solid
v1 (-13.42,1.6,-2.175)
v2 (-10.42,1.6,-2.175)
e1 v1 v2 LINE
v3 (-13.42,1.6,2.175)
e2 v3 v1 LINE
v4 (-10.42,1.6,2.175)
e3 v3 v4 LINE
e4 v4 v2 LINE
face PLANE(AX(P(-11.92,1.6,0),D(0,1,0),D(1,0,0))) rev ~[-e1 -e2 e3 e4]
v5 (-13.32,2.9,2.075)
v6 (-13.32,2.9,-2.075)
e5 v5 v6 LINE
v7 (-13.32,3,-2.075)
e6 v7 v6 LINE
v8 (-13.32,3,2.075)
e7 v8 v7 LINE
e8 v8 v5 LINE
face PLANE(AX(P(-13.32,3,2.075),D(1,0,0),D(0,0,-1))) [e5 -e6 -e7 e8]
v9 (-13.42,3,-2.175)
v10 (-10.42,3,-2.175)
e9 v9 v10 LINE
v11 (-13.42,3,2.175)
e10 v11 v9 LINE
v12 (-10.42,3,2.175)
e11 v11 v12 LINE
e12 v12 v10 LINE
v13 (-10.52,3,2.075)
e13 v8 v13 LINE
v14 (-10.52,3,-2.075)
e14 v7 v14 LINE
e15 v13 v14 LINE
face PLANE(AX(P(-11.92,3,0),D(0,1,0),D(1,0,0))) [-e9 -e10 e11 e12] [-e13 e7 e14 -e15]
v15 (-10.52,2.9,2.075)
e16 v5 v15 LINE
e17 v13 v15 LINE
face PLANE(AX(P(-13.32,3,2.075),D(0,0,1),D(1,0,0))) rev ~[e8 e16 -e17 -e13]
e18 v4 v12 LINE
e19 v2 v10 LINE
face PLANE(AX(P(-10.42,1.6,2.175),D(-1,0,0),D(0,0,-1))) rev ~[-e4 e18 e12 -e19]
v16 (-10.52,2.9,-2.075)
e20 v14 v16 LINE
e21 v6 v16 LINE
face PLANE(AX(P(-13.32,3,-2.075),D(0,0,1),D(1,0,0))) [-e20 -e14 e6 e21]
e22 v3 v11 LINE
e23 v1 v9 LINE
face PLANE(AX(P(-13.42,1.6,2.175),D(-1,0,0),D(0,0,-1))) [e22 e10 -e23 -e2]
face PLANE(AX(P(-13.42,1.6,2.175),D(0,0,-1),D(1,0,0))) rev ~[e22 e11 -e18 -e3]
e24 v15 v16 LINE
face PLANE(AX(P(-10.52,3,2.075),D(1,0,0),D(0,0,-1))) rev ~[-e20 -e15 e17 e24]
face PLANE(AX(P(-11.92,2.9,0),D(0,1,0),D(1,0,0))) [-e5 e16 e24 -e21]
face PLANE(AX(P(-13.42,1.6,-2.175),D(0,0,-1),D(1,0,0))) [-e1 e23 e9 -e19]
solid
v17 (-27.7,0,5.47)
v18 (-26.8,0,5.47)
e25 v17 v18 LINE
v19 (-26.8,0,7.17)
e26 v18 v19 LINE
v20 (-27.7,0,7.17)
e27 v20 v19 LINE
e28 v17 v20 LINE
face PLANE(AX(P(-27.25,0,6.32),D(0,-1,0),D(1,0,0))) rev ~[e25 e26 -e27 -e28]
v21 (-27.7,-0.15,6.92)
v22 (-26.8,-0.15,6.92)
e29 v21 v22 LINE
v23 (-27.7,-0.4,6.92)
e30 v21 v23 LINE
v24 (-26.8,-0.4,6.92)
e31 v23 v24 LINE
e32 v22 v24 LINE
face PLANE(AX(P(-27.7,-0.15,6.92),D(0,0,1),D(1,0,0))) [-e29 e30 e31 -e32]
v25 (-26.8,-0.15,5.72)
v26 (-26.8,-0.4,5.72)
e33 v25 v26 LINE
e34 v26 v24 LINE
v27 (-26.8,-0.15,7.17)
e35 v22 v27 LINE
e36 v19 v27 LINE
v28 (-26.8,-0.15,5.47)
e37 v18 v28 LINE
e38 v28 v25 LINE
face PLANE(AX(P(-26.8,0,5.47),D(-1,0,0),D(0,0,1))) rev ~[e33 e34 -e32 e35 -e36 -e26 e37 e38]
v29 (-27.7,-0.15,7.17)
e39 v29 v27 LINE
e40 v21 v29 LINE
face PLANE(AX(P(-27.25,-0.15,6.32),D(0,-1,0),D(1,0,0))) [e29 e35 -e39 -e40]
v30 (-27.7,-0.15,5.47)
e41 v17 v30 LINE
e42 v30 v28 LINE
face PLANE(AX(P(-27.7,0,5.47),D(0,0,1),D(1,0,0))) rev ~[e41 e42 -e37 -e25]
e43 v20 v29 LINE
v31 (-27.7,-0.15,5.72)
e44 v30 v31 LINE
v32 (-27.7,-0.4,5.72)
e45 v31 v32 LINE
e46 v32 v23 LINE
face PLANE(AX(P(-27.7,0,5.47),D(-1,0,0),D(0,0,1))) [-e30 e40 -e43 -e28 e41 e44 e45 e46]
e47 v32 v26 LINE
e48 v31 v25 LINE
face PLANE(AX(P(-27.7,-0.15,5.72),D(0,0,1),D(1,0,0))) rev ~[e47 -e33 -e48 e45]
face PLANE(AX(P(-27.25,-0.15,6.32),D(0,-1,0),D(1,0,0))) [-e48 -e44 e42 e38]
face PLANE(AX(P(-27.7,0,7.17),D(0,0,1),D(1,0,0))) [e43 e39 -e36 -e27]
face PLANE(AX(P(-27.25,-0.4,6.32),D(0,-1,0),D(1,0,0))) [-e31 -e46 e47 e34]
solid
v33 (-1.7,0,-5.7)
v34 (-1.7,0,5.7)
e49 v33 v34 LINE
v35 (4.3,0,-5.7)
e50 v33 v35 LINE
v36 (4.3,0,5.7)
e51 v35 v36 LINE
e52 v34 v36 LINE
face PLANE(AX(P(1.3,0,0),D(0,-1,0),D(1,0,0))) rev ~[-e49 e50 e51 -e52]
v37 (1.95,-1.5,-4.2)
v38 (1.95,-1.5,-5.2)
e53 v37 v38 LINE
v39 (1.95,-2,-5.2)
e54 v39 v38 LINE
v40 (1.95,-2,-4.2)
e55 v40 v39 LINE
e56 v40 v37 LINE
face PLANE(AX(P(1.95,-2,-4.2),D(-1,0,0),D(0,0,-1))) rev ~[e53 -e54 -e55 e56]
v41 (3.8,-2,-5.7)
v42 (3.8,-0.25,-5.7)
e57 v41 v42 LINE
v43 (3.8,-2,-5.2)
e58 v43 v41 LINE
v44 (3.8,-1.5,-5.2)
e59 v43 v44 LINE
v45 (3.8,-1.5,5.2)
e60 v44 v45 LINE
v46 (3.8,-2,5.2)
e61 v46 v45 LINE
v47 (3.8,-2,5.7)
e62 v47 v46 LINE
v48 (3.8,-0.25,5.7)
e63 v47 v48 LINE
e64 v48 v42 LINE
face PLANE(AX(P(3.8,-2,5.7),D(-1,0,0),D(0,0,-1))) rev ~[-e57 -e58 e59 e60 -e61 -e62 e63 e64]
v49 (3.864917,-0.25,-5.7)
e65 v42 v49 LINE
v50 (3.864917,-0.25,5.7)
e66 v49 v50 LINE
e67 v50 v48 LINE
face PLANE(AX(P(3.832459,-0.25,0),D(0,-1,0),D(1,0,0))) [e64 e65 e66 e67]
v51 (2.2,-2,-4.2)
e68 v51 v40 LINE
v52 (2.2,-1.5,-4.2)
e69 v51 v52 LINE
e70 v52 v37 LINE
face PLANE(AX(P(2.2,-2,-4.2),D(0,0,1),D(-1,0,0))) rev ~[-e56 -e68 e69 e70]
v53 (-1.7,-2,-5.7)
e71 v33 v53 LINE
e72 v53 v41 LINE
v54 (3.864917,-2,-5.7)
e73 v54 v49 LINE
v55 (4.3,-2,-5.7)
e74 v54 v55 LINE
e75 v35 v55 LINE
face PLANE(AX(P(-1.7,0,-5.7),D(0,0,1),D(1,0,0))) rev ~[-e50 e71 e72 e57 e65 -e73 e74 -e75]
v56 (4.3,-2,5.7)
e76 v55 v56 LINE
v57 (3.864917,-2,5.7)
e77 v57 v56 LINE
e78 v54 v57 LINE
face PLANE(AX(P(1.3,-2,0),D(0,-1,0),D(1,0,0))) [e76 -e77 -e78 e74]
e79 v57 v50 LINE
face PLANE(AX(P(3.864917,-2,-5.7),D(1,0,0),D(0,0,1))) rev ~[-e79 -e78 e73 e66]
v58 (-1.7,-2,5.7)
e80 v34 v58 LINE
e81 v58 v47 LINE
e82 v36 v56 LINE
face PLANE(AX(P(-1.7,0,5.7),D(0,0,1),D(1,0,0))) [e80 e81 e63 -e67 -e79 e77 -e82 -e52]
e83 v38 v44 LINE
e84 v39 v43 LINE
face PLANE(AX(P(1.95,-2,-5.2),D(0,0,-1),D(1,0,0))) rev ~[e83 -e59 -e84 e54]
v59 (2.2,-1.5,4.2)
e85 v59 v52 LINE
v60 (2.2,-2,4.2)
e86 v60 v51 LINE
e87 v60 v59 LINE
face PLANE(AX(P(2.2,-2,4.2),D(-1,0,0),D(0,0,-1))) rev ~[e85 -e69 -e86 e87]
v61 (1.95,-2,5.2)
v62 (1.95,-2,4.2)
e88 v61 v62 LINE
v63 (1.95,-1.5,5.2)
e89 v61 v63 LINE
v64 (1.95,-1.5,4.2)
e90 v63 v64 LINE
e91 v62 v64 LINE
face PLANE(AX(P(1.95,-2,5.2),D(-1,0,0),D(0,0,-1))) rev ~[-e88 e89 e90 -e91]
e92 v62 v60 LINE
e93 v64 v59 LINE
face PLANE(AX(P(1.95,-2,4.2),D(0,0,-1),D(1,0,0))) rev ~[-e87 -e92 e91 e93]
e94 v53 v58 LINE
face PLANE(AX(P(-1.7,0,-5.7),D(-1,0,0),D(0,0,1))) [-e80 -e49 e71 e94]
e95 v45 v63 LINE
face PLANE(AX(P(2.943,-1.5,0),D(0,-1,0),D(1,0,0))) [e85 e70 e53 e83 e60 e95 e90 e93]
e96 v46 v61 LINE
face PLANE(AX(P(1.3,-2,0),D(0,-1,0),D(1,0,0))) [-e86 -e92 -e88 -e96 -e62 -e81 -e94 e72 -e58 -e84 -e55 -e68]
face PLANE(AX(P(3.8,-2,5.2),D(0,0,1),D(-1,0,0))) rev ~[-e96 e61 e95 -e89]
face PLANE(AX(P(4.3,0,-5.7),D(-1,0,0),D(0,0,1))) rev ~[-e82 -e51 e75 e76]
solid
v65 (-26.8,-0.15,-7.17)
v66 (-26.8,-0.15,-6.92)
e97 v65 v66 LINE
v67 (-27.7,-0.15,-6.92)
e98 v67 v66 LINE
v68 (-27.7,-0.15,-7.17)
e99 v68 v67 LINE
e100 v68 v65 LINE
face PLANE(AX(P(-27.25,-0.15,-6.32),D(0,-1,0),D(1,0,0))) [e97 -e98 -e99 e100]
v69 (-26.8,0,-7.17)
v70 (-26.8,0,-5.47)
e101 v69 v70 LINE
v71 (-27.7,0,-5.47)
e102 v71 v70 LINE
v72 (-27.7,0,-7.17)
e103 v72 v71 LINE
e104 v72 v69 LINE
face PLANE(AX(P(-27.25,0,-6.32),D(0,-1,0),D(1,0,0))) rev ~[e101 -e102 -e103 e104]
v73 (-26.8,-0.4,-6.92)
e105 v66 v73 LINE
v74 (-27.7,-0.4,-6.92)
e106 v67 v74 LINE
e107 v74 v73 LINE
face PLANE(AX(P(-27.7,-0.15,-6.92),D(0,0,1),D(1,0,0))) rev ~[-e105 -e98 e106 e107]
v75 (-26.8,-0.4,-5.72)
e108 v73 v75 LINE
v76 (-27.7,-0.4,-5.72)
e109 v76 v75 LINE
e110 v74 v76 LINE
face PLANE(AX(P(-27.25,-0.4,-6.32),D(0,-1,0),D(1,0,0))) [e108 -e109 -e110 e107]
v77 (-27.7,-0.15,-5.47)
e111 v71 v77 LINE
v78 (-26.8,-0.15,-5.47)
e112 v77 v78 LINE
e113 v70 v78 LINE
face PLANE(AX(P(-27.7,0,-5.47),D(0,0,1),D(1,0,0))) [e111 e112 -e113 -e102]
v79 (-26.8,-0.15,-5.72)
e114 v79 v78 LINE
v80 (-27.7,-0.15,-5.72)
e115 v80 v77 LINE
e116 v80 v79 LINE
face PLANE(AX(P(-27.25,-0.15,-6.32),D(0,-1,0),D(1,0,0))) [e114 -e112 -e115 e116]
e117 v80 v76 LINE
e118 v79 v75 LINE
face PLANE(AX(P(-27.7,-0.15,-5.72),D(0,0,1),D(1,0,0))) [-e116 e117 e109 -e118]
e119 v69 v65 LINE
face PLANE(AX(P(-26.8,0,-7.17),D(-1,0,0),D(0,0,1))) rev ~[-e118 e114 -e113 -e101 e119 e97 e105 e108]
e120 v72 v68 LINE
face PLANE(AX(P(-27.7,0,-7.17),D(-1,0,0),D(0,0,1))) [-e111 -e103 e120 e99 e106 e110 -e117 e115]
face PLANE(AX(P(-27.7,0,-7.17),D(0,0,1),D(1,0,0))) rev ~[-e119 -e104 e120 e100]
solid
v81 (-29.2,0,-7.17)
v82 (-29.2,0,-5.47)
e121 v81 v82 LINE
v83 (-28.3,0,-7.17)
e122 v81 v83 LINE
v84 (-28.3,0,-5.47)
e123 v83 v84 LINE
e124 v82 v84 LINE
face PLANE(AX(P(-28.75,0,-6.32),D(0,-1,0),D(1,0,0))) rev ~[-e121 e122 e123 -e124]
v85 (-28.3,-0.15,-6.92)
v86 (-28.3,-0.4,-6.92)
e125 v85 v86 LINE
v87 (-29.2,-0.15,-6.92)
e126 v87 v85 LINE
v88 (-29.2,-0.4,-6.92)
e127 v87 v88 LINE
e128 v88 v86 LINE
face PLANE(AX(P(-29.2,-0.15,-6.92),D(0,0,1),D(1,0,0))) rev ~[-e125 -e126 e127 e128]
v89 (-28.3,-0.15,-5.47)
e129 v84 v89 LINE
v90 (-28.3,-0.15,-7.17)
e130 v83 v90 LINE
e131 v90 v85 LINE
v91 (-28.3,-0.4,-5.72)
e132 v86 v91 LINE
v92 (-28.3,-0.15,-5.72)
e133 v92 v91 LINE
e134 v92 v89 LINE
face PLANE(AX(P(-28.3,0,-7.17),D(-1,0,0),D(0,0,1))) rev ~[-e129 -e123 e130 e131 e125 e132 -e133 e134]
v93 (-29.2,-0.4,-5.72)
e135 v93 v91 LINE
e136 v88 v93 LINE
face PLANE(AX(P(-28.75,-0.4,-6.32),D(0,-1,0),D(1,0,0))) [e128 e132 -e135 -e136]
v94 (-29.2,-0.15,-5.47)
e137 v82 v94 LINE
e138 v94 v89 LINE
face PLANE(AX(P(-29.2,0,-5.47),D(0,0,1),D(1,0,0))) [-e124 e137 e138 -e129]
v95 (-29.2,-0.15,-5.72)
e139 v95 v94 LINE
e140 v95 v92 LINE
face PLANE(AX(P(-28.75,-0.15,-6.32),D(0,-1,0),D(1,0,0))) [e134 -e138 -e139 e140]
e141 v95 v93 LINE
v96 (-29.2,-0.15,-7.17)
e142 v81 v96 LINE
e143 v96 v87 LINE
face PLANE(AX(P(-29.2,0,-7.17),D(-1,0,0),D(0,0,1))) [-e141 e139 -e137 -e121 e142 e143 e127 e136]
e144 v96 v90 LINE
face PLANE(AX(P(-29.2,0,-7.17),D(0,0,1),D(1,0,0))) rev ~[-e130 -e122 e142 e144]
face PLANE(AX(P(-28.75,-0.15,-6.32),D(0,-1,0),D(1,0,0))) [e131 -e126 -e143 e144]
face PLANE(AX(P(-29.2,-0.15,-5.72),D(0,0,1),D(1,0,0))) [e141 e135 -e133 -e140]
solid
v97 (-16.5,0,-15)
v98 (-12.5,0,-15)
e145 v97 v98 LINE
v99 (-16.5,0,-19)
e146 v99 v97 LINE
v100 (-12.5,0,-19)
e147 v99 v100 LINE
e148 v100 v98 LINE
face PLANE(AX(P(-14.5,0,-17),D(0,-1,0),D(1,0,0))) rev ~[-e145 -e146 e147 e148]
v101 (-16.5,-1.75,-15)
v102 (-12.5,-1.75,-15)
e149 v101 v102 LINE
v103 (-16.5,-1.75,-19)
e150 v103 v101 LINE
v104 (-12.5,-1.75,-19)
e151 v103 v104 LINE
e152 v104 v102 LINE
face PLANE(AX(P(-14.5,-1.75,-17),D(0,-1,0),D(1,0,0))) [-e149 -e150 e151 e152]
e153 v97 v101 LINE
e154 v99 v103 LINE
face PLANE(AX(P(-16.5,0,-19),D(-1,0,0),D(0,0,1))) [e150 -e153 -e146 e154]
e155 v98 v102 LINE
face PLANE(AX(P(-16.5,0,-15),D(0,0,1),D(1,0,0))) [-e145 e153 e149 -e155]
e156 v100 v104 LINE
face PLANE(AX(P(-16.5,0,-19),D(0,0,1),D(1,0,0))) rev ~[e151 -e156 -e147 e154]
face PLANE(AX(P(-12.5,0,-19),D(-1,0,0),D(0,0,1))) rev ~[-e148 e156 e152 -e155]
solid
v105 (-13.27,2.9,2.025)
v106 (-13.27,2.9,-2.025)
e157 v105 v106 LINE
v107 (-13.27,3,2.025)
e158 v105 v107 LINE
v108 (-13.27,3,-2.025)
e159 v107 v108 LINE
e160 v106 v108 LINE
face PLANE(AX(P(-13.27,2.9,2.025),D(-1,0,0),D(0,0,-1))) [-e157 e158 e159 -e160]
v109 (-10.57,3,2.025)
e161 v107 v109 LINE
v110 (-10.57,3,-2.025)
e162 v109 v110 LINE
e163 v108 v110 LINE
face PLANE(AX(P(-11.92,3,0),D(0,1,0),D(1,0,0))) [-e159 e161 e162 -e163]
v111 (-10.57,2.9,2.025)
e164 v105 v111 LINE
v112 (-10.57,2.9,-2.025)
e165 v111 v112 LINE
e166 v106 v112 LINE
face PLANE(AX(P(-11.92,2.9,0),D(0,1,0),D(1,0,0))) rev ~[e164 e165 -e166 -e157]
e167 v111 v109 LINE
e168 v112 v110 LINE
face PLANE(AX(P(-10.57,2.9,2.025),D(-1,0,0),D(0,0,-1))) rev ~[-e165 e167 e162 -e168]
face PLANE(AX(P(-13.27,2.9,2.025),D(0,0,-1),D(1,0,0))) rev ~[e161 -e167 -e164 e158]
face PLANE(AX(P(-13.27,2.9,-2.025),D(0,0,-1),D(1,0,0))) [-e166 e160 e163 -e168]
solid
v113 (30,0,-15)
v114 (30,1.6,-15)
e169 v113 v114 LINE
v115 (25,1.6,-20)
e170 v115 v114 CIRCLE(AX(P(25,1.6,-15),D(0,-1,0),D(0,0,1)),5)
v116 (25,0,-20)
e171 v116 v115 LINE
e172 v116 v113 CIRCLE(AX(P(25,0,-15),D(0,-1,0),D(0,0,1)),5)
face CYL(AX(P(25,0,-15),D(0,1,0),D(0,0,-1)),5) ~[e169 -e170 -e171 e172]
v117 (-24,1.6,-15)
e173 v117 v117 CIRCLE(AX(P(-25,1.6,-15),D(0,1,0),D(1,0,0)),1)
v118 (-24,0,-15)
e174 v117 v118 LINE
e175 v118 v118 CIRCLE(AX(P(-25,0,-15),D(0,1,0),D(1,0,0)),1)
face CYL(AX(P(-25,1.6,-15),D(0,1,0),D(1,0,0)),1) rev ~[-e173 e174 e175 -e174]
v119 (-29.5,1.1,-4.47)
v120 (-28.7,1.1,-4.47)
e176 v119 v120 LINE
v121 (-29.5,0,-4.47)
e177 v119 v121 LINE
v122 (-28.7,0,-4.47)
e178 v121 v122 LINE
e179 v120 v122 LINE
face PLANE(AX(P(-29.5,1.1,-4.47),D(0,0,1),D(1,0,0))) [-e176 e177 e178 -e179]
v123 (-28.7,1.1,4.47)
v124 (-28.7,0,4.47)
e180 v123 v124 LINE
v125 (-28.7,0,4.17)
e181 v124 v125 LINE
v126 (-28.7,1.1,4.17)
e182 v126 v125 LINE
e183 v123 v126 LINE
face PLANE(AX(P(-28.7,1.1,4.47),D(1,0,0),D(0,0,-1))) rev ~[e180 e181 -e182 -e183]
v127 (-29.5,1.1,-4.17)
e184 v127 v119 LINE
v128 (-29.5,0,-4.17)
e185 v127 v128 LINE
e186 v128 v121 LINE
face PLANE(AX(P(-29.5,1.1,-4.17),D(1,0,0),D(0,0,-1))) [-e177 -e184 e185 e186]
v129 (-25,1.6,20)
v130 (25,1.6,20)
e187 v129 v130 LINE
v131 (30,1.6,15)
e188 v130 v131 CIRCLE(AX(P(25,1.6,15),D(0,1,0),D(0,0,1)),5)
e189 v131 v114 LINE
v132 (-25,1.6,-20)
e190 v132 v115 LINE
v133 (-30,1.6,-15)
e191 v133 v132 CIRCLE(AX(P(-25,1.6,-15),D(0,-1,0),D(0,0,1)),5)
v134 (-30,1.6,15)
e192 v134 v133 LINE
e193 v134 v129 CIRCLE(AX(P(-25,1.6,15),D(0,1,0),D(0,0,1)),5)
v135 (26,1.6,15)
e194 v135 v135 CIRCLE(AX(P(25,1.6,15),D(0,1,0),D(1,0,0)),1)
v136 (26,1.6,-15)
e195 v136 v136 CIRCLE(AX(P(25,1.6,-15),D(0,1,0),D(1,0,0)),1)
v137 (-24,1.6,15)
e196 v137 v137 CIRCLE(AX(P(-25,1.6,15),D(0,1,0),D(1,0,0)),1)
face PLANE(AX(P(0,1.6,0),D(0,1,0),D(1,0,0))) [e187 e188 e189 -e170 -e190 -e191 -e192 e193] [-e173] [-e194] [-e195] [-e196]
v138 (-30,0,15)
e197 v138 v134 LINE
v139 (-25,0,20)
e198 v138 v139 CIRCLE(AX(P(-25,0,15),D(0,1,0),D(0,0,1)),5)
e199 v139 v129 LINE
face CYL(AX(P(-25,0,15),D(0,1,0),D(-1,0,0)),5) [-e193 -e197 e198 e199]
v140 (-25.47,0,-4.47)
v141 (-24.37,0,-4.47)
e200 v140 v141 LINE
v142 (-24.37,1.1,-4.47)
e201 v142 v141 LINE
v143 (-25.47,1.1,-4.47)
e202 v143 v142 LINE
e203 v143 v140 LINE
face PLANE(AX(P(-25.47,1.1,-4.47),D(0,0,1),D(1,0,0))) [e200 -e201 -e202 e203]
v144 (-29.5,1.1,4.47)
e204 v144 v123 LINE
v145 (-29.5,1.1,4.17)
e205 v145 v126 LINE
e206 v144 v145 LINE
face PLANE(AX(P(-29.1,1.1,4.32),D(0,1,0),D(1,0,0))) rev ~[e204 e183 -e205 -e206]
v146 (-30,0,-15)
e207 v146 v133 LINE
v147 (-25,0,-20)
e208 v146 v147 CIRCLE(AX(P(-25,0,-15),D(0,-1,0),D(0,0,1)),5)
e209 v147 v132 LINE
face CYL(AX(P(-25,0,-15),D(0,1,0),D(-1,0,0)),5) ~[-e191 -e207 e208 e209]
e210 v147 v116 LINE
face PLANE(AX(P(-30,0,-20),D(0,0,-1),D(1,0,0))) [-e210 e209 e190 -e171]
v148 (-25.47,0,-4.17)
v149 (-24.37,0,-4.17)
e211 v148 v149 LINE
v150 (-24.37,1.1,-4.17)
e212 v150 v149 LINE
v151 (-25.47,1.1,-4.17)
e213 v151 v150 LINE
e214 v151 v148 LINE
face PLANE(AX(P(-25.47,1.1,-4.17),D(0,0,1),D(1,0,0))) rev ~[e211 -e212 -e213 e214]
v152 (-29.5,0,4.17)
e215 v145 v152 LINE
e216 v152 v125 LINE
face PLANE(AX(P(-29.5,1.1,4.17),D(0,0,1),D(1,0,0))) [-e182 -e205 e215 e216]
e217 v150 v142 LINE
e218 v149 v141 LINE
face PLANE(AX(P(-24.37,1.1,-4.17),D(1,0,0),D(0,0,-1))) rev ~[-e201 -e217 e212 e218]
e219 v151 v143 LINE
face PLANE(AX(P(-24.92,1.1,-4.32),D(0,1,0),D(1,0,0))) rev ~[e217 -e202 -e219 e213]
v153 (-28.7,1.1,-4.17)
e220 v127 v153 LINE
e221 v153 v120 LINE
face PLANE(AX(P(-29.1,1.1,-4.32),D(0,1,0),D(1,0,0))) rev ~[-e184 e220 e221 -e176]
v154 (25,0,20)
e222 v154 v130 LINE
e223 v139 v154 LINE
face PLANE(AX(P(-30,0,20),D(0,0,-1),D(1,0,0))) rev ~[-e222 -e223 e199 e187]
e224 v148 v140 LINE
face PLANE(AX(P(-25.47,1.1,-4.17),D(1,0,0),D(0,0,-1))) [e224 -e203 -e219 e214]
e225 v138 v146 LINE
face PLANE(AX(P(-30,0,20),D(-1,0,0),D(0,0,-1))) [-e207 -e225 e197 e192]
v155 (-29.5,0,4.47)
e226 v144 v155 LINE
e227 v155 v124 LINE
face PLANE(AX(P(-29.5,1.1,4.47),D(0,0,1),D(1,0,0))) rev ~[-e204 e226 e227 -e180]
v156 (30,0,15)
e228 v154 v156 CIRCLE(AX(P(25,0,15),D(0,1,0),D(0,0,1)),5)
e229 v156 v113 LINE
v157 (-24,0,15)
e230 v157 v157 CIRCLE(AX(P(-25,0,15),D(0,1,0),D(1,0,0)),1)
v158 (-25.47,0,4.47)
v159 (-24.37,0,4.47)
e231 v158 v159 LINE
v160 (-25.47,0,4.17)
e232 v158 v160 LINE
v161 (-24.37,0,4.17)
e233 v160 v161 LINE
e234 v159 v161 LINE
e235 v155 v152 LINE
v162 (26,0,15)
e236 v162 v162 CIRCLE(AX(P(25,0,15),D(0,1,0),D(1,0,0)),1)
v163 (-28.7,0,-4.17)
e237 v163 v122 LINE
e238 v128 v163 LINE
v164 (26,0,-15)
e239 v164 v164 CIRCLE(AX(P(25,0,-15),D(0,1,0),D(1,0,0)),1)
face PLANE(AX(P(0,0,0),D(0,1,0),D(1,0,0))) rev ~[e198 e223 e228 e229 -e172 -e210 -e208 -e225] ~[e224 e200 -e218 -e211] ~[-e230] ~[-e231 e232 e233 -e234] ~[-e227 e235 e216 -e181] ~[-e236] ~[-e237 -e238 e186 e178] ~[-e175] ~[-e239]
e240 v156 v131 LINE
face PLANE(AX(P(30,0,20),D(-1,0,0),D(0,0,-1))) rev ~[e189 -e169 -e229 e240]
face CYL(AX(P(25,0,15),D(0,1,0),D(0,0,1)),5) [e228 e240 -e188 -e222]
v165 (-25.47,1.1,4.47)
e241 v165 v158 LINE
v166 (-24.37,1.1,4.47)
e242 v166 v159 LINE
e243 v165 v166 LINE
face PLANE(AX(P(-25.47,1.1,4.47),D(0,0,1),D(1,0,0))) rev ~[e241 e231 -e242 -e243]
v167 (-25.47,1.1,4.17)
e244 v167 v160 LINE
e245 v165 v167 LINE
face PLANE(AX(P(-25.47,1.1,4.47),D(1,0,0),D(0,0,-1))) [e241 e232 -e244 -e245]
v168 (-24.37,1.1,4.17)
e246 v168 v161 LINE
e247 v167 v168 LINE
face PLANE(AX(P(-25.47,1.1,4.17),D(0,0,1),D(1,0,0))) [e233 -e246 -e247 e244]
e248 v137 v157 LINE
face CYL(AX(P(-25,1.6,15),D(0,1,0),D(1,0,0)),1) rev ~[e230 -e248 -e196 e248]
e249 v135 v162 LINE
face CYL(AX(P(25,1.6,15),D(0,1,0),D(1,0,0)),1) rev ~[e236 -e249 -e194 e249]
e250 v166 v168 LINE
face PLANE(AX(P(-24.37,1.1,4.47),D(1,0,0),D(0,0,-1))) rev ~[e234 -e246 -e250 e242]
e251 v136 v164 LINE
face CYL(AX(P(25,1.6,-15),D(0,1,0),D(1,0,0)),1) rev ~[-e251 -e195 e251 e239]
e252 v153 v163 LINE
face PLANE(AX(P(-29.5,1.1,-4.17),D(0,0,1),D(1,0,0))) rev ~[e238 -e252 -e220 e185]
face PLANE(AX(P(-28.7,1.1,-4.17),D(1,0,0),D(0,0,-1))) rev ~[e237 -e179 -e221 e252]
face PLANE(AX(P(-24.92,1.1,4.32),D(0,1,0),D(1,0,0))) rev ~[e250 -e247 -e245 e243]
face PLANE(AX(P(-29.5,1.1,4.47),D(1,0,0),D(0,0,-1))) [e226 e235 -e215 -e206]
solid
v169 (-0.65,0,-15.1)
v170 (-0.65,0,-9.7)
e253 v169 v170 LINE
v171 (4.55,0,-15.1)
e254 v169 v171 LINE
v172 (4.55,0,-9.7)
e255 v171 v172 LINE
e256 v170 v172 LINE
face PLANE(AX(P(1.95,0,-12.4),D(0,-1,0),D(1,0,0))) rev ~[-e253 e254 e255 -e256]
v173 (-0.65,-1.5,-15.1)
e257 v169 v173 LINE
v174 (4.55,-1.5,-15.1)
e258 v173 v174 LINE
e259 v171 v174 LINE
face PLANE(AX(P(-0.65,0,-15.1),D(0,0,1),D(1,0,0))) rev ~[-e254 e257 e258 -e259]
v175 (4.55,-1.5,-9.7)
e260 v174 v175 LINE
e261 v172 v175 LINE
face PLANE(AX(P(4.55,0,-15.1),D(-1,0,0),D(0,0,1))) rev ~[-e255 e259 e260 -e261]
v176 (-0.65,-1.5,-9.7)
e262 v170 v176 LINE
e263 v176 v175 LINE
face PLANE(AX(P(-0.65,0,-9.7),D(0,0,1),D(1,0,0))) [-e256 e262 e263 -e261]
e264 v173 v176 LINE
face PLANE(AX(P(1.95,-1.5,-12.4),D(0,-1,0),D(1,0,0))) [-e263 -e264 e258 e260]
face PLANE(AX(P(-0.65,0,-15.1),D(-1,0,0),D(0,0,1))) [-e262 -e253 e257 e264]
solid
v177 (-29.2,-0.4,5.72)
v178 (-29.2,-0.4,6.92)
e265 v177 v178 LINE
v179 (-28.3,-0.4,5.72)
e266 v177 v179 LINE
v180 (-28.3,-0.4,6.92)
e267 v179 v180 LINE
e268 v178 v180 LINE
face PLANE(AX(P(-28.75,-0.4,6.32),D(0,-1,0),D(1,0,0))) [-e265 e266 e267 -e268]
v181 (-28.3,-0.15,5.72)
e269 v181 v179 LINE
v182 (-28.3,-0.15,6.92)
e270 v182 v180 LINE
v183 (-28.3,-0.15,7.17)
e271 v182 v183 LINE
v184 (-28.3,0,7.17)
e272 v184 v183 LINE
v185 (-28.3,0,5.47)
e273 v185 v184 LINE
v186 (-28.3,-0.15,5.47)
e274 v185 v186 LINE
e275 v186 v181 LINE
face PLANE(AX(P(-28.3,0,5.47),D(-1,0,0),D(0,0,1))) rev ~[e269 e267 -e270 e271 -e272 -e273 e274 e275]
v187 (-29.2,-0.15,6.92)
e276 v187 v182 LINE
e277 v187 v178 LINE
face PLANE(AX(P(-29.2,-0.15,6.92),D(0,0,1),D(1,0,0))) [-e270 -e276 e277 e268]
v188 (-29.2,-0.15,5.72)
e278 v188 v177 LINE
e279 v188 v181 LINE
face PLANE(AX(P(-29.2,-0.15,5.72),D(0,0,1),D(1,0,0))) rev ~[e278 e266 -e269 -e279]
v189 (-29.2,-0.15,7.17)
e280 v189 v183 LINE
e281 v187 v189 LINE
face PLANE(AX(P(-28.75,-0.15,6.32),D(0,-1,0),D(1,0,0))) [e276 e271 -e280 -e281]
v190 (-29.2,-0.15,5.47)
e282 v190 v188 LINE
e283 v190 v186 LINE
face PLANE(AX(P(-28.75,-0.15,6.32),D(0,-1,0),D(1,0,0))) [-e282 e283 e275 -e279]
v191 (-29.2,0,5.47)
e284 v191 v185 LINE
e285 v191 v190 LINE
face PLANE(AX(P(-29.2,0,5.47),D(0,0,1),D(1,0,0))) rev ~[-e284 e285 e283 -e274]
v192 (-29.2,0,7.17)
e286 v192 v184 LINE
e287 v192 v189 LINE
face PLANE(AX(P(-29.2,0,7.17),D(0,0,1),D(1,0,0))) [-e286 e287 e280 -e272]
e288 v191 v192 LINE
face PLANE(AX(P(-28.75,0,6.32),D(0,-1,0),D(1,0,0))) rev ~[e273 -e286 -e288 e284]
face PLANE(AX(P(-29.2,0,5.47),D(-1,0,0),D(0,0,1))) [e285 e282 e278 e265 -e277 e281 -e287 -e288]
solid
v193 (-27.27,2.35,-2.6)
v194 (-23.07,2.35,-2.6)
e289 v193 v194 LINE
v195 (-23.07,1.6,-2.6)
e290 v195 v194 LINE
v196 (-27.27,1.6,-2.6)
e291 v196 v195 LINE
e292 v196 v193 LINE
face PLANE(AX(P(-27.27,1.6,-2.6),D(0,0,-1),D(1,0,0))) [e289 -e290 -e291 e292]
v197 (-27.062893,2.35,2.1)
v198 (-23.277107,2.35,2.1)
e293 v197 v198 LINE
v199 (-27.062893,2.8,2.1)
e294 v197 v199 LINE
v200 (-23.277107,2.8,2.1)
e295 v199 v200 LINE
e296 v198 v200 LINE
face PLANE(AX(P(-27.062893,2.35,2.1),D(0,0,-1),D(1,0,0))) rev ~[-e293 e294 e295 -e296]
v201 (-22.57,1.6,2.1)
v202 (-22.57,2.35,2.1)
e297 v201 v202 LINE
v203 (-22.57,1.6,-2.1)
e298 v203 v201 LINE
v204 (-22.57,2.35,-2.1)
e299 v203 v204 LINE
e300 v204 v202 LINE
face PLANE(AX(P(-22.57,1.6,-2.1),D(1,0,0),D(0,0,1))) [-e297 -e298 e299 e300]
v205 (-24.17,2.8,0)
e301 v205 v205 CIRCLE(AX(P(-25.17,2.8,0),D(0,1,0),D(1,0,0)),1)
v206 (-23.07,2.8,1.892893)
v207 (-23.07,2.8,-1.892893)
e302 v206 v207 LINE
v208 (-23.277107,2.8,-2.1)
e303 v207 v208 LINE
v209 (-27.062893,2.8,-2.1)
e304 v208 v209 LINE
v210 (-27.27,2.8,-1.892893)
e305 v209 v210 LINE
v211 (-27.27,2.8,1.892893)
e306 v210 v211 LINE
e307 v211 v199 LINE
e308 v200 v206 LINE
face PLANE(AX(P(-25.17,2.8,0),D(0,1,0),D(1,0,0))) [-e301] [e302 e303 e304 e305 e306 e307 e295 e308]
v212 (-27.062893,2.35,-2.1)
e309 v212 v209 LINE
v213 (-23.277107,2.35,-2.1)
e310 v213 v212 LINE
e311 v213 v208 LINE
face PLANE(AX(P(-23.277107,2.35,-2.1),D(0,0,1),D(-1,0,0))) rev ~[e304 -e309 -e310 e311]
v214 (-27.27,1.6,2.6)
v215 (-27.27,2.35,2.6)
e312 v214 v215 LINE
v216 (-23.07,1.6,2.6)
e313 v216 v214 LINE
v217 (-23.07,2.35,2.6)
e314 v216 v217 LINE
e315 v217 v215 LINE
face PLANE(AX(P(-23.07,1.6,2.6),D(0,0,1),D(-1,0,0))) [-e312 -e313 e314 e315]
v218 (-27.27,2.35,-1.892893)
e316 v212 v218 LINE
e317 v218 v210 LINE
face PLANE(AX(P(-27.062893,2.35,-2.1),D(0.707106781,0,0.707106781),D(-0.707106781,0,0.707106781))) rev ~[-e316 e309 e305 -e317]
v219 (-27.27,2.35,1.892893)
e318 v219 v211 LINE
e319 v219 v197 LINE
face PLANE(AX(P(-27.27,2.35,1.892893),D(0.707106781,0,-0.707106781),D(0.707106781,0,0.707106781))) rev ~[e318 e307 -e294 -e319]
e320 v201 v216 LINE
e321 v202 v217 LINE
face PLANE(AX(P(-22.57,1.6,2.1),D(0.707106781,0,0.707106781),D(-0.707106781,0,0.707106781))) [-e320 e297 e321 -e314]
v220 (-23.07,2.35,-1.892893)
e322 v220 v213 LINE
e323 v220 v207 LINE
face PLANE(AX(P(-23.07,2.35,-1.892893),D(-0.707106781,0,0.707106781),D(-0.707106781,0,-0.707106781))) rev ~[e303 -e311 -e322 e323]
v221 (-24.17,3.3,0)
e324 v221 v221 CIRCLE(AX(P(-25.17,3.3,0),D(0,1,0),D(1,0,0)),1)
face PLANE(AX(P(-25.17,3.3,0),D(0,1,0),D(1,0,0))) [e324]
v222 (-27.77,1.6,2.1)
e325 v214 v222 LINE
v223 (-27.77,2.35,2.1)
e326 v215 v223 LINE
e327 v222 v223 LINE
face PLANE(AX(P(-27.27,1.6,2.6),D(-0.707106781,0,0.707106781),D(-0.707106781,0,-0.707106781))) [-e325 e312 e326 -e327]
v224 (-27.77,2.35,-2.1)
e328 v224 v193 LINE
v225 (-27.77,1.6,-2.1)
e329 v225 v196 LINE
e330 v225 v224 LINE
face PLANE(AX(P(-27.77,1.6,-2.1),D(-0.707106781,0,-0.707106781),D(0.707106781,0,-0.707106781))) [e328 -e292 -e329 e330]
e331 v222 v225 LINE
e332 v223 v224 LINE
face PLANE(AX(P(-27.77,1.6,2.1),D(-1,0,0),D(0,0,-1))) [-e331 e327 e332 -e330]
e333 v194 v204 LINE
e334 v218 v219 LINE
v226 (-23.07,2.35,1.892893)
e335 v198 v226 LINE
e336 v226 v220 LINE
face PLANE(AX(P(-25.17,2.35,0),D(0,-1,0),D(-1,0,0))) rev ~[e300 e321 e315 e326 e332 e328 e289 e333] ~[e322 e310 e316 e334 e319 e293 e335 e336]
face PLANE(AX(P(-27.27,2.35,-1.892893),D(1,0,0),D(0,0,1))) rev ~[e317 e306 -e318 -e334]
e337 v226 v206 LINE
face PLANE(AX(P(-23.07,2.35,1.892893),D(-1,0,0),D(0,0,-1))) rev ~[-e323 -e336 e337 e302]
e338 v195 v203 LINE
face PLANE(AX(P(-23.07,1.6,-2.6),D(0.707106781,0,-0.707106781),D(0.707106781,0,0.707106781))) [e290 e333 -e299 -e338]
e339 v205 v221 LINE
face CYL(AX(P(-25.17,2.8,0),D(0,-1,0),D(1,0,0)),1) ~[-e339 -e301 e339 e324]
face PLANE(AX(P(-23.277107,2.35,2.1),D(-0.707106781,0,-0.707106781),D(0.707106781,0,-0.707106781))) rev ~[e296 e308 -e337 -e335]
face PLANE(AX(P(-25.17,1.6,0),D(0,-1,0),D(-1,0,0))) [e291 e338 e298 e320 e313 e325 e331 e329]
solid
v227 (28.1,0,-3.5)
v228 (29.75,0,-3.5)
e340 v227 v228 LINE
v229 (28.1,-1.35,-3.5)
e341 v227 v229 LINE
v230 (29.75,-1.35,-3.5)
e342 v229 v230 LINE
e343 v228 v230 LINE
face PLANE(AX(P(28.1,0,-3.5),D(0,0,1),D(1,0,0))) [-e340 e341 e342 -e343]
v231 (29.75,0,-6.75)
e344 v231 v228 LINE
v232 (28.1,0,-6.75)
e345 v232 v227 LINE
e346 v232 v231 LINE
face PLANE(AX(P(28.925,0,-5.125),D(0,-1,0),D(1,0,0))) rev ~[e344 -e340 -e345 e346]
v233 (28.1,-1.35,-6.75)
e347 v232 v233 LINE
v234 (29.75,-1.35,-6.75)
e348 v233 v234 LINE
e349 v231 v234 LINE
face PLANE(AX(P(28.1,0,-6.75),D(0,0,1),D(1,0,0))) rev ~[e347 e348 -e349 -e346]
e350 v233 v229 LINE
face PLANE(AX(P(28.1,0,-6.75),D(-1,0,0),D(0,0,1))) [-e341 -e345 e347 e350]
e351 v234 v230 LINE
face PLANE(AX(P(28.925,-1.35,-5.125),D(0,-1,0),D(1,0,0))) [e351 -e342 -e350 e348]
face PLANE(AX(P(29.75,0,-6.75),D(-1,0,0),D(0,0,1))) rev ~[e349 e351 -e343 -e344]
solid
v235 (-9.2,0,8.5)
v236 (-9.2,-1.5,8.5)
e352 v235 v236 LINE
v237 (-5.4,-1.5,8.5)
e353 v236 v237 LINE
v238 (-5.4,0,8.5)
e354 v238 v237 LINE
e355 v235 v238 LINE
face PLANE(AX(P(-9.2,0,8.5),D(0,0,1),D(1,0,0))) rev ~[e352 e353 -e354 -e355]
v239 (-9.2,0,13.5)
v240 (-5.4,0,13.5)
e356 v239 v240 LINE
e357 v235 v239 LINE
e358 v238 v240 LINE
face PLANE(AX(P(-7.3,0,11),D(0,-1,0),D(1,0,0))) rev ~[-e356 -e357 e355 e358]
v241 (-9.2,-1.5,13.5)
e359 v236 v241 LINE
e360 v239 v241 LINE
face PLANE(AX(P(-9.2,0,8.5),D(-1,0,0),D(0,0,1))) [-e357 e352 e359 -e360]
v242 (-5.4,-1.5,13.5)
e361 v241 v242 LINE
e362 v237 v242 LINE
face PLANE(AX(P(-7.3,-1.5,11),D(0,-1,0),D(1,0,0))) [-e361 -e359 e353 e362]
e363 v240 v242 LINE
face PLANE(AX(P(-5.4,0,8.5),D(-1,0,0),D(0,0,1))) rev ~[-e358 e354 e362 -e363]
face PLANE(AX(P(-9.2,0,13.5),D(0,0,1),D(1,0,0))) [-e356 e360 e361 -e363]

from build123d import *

# Parameters (mm, degrees)
SKETCH1_W              = 60
SKETCH1_H              = 40
BOSS_EXTRUDE1_DEPTH    = 1.6
SKETCH2_R              = 1
CUT_EXTRUDE1_DEPTH     = 37.090996107
FILLET1_R              = 5
CUT_EXTRUDE2_START     = -0.5
SKETCH4_W              = 0.8
SKETCH4_H              = 0.3
SKETCH4_W_2            = 1.1
CUT_EXTRUDE2_DEPTH     = 36.590996107
SKETCH5_W              = 6
SKETCH5_H              = 11.4
BOSS_EXTRUDE2_DEPTH    = 2
CUT_EXTRUDE3_DEPTH     = 0.5
SKETCH6_3_W            = 0.064917345
SKETCH6_3_H            = 11.4
CUT_EXTRUDE4_DEPTH     = 1.75
BOSS_EXTRUDE3_DEPTH    = 0.75
BOSS_EXTRUDE4_DEPTH    = 0.45
SKETCH9_W              = 3
SKETCH9_H              = 4.35
BOSS_EXTRUDE6_DEPTH    = 1.4
SKETCH10_W             = 2.8
SKETCH10_H             = 4.15
CUT_EXTRUDE5_DEPTH     = 0.1
SKETCH11_W             = 2.7
SKETCH11_H             = 4.05
BOSS_EXTRUDE7_DEPTH    = 0.1
SKETCH13_W             = 4
SKETCH13_H             = 4
BOSS_EXTRUDE8_DEPTH    = 1.75
SKETCH14_W             = 5.2
SKETCH14_H             = 5.4
BOSS_EXTRUDE9_DEPTH    = 1.5
SKETCH15_W             = 3.8
SKETCH15_H             = 5
BOSS_EXTRUDE10_DEPTH   = 1.5
SKETCH16_W             = 1.65
SKETCH16_H             = 3.25
BOSS_EXTRUDE11_DEPTH   = 1.35
SKETCH17_R             = 1
BOSS_EXTRUDE12_DEPTH   = 0.5
SKETCH19_W             = 0.9
SKETCH19_H             = 1.7
BOSS_EXTRUDE13_DEPTH   = 0.15
BOSS_EXTRUDE13_2_DEPTH = 0.15
BOSS_EXTRUDE13_3_DEPTH = 0.15
BOSS_EXTRUDE13_4_DEPTH = 0.15
SKETCH20_W             = 0.9
SKETCH20_H             = 1.2
BOSS_EXTRUDE14_DEPTH   = 0.25


with BuildPart() as part:
    # Sketch1 → Boss-Extrude1 (new body)
    with BuildSketch(Plane(origin=(0, 0, 0), x_dir=(1, 0, 0), z_dir=(0, 1, 0))):
        Rectangle(SKETCH1_W, SKETCH1_H)
    extrude(amount=BOSS_EXTRUDE1_DEPTH)

    # Sketch2 → Cut-Extrude1 (cut, through all)
    with BuildSketch(Plane(origin=(0, 1.6, 0), x_dir=(1, 0, 0), z_dir=(0, 1, 0))):
        with Locations((-25, 15)):
            Circle(SKETCH2_R)
        with Locations((25, 15)):
            Circle(SKETCH2_R)
        with Locations((25, -15)):
            Circle(SKETCH2_R)
        with Locations((-25, -15)):
            Circle(SKETCH2_R)
    extrude(amount=-CUT_EXTRUDE1_DEPTH, mode=Mode.SUBTRACT)

    # Fillet1
    fillet1_edges = [part.edges().sort_by_distance(p)[0] for p in [
        (-30, 0.8, 20),
        (30, 0.8, 20),
        (30, 0.8, -20),
        (-30, 0.8, -20),
    ]]
    fillet(fillet1_edges, radius=FILLET1_R)

    # Sketch4 → Cut-Extrude2 (cut, through all)
    with BuildSketch(Plane(origin=(0, 1.6, 0), x_dir=(1, 0, 0), z_dir=(0, 1, 0)).offset(CUT_EXTRUDE2_START)):
        with Locations((-29.1, 4.32)):
            Rectangle(SKETCH4_W, SKETCH4_H)
        with Locations((-24.92, 4.32)):
            Rectangle(SKETCH4_W_2, SKETCH4_H)
        with Locations((-24.92, -4.32)):
            Rectangle(SKETCH4_W_2, SKETCH4_H)
        with Locations((-29.1, -4.32)):
            Rectangle(SKETCH4_W, SKETCH4_H)
    extrude(amount=-CUT_EXTRUDE2_DEPTH, mode=Mode.SUBTRACT)


with BuildPart() as body_2:
    # Sketch5 → Boss-Extrude2 (new body)
    with BuildSketch(Plane.XZ):
        with Locations((1.3, 0)):
            Rectangle(SKETCH5_W, SKETCH5_H)
    extrude(amount=BOSS_EXTRUDE2_DEPTH)

    # Sketch6 → Cut-Extrude3 (cut)
    with BuildSketch(Plane.XZ.offset(2)):
        Polygon((2.2, 4.2), (2.2, -4.2), (1.95, -4.2), (1.95, -5.2), (3.8, -5.2), (3.8, 5.2), (1.95, 5.2), (1.95, 4.2), align=None)
    extrude(amount=-CUT_EXTRUDE3_DEPTH, mode=Mode.SUBTRACT)

    # Sketch6<3> → Cut-Extrude4 (cut)
    with BuildSketch(Plane.XZ.offset(2)):
        with Locations((3.832458673, 0)):
            Rectangle(SKETCH6_3_W, SKETCH6_3_H)
    extrude(amount=-CUT_EXTRUDE4_DEPTH, mode=Mode.SUBTRACT)


with BuildPart() as body_3:
    # Sketch7 → Boss-Extrude3 (new body)
    with BuildSketch(Plane(origin=(0, 1.6, 0), x_dir=(1, 0, 0), z_dir=(0, 1, 0))):
        Polygon((-27.27, 2.6), (-23.07, 2.6), (-22.57, 2.1), (-22.57, -2.1), (-23.07, -2.6), (-27.27, -2.6), (-27.77, -2.1), (-27.77, 2.1), align=None)
    extrude(amount=BOSS_EXTRUDE3_DEPTH)

    # Sketch8 → Boss-Extrude4 (add)
    with BuildSketch(Plane(origin=(0, 2.35, 0), x_dir=(1, 0, 0), z_dir=(0, 1, 0))):
        Polygon((-23.277106781, 2.1), (-27.062893219, 2.1), (-27.27, 1.892893219), (-27.27, -1.892893219), (-27.062893219, -2.1), (-23.277106781, -2.1), (-23.07, -1.892893219), (-23.07, 1.892893219), align=None)
    extrude(amount=BOSS_EXTRUDE4_DEPTH)

    # Sketch17 → Boss-Extrude12 (add)
    with BuildSketch(Plane(origin=(0, 2.8, 0), x_dir=(1, 0, 0), z_dir=(0, 1, 0))):
        with Locations((-25.17, 0)):
            Circle(SKETCH17_R)
    extrude(amount=BOSS_EXTRUDE12_DEPTH)


with BuildPart() as body_4:
    # Sketch9 → Boss-Extrude6 (new body)
    with BuildSketch(Plane(origin=(0, 1.6, 0), x_dir=(1, 0, 0), z_dir=(0, 1, 0))):
        with Locations((-11.92, 0)):
            Rectangle(SKETCH9_W, SKETCH9_H)
    extrude(amount=BOSS_EXTRUDE6_DEPTH)

    # Sketch10 → Cut-Extrude5 (cut)
    with BuildSketch(Plane(origin=(0, 3, 0), x_dir=(1, 0, 0), z_dir=(0, 1, 0))):
        with Locations((-11.92, 0)):
            Rectangle(SKETCH10_W, SKETCH10_H)
    extrude(amount=-CUT_EXTRUDE5_DEPTH, mode=Mode.SUBTRACT)


with BuildPart() as body_5:
    # Sketch11 → Boss-Extrude7 (new body)
    with BuildSketch(Plane(origin=(0, 2.9, 0), x_dir=(1, 0, 0), z_dir=(0, 1, 0))):
        with Locations((-11.92, 0)):
            Rectangle(SKETCH11_W, SKETCH11_H)
    extrude(amount=BOSS_EXTRUDE7_DEPTH)


with BuildPart() as body_6:
    # Sketch13 → Boss-Extrude8 (new body)
    with BuildSketch(Plane.XZ):
        with Locations((-14.5, -17)):
            Rectangle(SKETCH13_W, SKETCH13_H)
    extrude(amount=BOSS_EXTRUDE8_DEPTH)


with BuildPart() as body_7:
    # Sketch14 → Boss-Extrude9 (new body)
    with BuildSketch(Plane.XZ):
        with Locations((1.95, -12.4)):
            Rectangle(SKETCH14_W, SKETCH14_H)
    extrude(amount=BOSS_EXTRUDE9_DEPTH)


with BuildPart() as body_8:
    # Sketch15 → Boss-Extrude10 (new body)
    with BuildSketch(Plane.XZ):
        with Locations((-7.3, 11)):
            Rectangle(SKETCH15_W, SKETCH15_H)
    extrude(amount=BOSS_EXTRUDE10_DEPTH)


with BuildPart() as body_9:
    # Sketch16 → Boss-Extrude11 (new body)
    with BuildSketch(Plane.XZ):
        with Locations((28.925, -5.125)):
            Rectangle(SKETCH16_W, SKETCH16_H)
    extrude(amount=BOSS_EXTRUDE11_DEPTH)


with BuildPart() as body_10:
    # Sketch19 → Boss-Extrude13 (new body)
    with BuildSketch(Plane.XZ):
        with Locations((-28.75, 6.32)):
            Rectangle(SKETCH19_W, SKETCH19_H)
    extrude(amount=BOSS_EXTRUDE13_DEPTH)



with BuildPart() as body_11:
    # Sketch19 → Boss-Extrude13 2 (new body)
    with BuildSketch(Plane.XZ):
        with Locations((-27.25, 6.32)):
            Rectangle(SKETCH19_W, SKETCH19_H)
    extrude(amount=BOSS_EXTRUDE13_2_DEPTH)


with BuildPart() as body_12:
    # Sketch19 → Boss-Extrude13 3 (new body)
    with BuildSketch(Plane.XZ):
        with Locations((-27.25, -6.32)):
            Rectangle(SKETCH19_W, SKETCH19_H)
    extrude(amount=BOSS_EXTRUDE13_3_DEPTH)


with BuildPart() as body_13:
    # Sketch19 → Boss-Extrude13 4 (new body)
    with BuildSketch(Plane.XZ):
        with Locations((-28.75, -6.32)):
            Rectangle(SKETCH19_W, SKETCH19_H)
    extrude(amount=BOSS_EXTRUDE13_4_DEPTH)


with BuildPart() as body_10_1:
    add(body_10.part)

    add(body_11.part)  # Boss-Extrude14 merges body 11

    add(body_12.part)  # Boss-Extrude14 merges body 12

    add(body_13.part)  # Boss-Extrude14 merges body 13
    # Sketch20 → Boss-Extrude14 (add)
    with BuildSketch(Plane.XZ.offset(0.15)):
        with Locations((-28.75, 6.32)):
            Rectangle(SKETCH20_W, SKETCH20_H)
        with Locations((-27.25, 6.32)):
            Rectangle(SKETCH20_W, SKETCH20_H)
        with Locations((-27.25, -6.32)):
            Rectangle(SKETCH20_W, SKETCH20_H)
        with Locations((-28.75, -6.32)):
            Rectangle(SKETCH20_W, SKETCH20_H)
    extrude(amount=BOSS_EXTRUDE14_DEPTH)


solid = Compound([part.part, body_2.part, body_3.part, body_4.part, body_5.part, body_6.part, body_7.part, body_8.part, body_9.part, body_10_1.part])
